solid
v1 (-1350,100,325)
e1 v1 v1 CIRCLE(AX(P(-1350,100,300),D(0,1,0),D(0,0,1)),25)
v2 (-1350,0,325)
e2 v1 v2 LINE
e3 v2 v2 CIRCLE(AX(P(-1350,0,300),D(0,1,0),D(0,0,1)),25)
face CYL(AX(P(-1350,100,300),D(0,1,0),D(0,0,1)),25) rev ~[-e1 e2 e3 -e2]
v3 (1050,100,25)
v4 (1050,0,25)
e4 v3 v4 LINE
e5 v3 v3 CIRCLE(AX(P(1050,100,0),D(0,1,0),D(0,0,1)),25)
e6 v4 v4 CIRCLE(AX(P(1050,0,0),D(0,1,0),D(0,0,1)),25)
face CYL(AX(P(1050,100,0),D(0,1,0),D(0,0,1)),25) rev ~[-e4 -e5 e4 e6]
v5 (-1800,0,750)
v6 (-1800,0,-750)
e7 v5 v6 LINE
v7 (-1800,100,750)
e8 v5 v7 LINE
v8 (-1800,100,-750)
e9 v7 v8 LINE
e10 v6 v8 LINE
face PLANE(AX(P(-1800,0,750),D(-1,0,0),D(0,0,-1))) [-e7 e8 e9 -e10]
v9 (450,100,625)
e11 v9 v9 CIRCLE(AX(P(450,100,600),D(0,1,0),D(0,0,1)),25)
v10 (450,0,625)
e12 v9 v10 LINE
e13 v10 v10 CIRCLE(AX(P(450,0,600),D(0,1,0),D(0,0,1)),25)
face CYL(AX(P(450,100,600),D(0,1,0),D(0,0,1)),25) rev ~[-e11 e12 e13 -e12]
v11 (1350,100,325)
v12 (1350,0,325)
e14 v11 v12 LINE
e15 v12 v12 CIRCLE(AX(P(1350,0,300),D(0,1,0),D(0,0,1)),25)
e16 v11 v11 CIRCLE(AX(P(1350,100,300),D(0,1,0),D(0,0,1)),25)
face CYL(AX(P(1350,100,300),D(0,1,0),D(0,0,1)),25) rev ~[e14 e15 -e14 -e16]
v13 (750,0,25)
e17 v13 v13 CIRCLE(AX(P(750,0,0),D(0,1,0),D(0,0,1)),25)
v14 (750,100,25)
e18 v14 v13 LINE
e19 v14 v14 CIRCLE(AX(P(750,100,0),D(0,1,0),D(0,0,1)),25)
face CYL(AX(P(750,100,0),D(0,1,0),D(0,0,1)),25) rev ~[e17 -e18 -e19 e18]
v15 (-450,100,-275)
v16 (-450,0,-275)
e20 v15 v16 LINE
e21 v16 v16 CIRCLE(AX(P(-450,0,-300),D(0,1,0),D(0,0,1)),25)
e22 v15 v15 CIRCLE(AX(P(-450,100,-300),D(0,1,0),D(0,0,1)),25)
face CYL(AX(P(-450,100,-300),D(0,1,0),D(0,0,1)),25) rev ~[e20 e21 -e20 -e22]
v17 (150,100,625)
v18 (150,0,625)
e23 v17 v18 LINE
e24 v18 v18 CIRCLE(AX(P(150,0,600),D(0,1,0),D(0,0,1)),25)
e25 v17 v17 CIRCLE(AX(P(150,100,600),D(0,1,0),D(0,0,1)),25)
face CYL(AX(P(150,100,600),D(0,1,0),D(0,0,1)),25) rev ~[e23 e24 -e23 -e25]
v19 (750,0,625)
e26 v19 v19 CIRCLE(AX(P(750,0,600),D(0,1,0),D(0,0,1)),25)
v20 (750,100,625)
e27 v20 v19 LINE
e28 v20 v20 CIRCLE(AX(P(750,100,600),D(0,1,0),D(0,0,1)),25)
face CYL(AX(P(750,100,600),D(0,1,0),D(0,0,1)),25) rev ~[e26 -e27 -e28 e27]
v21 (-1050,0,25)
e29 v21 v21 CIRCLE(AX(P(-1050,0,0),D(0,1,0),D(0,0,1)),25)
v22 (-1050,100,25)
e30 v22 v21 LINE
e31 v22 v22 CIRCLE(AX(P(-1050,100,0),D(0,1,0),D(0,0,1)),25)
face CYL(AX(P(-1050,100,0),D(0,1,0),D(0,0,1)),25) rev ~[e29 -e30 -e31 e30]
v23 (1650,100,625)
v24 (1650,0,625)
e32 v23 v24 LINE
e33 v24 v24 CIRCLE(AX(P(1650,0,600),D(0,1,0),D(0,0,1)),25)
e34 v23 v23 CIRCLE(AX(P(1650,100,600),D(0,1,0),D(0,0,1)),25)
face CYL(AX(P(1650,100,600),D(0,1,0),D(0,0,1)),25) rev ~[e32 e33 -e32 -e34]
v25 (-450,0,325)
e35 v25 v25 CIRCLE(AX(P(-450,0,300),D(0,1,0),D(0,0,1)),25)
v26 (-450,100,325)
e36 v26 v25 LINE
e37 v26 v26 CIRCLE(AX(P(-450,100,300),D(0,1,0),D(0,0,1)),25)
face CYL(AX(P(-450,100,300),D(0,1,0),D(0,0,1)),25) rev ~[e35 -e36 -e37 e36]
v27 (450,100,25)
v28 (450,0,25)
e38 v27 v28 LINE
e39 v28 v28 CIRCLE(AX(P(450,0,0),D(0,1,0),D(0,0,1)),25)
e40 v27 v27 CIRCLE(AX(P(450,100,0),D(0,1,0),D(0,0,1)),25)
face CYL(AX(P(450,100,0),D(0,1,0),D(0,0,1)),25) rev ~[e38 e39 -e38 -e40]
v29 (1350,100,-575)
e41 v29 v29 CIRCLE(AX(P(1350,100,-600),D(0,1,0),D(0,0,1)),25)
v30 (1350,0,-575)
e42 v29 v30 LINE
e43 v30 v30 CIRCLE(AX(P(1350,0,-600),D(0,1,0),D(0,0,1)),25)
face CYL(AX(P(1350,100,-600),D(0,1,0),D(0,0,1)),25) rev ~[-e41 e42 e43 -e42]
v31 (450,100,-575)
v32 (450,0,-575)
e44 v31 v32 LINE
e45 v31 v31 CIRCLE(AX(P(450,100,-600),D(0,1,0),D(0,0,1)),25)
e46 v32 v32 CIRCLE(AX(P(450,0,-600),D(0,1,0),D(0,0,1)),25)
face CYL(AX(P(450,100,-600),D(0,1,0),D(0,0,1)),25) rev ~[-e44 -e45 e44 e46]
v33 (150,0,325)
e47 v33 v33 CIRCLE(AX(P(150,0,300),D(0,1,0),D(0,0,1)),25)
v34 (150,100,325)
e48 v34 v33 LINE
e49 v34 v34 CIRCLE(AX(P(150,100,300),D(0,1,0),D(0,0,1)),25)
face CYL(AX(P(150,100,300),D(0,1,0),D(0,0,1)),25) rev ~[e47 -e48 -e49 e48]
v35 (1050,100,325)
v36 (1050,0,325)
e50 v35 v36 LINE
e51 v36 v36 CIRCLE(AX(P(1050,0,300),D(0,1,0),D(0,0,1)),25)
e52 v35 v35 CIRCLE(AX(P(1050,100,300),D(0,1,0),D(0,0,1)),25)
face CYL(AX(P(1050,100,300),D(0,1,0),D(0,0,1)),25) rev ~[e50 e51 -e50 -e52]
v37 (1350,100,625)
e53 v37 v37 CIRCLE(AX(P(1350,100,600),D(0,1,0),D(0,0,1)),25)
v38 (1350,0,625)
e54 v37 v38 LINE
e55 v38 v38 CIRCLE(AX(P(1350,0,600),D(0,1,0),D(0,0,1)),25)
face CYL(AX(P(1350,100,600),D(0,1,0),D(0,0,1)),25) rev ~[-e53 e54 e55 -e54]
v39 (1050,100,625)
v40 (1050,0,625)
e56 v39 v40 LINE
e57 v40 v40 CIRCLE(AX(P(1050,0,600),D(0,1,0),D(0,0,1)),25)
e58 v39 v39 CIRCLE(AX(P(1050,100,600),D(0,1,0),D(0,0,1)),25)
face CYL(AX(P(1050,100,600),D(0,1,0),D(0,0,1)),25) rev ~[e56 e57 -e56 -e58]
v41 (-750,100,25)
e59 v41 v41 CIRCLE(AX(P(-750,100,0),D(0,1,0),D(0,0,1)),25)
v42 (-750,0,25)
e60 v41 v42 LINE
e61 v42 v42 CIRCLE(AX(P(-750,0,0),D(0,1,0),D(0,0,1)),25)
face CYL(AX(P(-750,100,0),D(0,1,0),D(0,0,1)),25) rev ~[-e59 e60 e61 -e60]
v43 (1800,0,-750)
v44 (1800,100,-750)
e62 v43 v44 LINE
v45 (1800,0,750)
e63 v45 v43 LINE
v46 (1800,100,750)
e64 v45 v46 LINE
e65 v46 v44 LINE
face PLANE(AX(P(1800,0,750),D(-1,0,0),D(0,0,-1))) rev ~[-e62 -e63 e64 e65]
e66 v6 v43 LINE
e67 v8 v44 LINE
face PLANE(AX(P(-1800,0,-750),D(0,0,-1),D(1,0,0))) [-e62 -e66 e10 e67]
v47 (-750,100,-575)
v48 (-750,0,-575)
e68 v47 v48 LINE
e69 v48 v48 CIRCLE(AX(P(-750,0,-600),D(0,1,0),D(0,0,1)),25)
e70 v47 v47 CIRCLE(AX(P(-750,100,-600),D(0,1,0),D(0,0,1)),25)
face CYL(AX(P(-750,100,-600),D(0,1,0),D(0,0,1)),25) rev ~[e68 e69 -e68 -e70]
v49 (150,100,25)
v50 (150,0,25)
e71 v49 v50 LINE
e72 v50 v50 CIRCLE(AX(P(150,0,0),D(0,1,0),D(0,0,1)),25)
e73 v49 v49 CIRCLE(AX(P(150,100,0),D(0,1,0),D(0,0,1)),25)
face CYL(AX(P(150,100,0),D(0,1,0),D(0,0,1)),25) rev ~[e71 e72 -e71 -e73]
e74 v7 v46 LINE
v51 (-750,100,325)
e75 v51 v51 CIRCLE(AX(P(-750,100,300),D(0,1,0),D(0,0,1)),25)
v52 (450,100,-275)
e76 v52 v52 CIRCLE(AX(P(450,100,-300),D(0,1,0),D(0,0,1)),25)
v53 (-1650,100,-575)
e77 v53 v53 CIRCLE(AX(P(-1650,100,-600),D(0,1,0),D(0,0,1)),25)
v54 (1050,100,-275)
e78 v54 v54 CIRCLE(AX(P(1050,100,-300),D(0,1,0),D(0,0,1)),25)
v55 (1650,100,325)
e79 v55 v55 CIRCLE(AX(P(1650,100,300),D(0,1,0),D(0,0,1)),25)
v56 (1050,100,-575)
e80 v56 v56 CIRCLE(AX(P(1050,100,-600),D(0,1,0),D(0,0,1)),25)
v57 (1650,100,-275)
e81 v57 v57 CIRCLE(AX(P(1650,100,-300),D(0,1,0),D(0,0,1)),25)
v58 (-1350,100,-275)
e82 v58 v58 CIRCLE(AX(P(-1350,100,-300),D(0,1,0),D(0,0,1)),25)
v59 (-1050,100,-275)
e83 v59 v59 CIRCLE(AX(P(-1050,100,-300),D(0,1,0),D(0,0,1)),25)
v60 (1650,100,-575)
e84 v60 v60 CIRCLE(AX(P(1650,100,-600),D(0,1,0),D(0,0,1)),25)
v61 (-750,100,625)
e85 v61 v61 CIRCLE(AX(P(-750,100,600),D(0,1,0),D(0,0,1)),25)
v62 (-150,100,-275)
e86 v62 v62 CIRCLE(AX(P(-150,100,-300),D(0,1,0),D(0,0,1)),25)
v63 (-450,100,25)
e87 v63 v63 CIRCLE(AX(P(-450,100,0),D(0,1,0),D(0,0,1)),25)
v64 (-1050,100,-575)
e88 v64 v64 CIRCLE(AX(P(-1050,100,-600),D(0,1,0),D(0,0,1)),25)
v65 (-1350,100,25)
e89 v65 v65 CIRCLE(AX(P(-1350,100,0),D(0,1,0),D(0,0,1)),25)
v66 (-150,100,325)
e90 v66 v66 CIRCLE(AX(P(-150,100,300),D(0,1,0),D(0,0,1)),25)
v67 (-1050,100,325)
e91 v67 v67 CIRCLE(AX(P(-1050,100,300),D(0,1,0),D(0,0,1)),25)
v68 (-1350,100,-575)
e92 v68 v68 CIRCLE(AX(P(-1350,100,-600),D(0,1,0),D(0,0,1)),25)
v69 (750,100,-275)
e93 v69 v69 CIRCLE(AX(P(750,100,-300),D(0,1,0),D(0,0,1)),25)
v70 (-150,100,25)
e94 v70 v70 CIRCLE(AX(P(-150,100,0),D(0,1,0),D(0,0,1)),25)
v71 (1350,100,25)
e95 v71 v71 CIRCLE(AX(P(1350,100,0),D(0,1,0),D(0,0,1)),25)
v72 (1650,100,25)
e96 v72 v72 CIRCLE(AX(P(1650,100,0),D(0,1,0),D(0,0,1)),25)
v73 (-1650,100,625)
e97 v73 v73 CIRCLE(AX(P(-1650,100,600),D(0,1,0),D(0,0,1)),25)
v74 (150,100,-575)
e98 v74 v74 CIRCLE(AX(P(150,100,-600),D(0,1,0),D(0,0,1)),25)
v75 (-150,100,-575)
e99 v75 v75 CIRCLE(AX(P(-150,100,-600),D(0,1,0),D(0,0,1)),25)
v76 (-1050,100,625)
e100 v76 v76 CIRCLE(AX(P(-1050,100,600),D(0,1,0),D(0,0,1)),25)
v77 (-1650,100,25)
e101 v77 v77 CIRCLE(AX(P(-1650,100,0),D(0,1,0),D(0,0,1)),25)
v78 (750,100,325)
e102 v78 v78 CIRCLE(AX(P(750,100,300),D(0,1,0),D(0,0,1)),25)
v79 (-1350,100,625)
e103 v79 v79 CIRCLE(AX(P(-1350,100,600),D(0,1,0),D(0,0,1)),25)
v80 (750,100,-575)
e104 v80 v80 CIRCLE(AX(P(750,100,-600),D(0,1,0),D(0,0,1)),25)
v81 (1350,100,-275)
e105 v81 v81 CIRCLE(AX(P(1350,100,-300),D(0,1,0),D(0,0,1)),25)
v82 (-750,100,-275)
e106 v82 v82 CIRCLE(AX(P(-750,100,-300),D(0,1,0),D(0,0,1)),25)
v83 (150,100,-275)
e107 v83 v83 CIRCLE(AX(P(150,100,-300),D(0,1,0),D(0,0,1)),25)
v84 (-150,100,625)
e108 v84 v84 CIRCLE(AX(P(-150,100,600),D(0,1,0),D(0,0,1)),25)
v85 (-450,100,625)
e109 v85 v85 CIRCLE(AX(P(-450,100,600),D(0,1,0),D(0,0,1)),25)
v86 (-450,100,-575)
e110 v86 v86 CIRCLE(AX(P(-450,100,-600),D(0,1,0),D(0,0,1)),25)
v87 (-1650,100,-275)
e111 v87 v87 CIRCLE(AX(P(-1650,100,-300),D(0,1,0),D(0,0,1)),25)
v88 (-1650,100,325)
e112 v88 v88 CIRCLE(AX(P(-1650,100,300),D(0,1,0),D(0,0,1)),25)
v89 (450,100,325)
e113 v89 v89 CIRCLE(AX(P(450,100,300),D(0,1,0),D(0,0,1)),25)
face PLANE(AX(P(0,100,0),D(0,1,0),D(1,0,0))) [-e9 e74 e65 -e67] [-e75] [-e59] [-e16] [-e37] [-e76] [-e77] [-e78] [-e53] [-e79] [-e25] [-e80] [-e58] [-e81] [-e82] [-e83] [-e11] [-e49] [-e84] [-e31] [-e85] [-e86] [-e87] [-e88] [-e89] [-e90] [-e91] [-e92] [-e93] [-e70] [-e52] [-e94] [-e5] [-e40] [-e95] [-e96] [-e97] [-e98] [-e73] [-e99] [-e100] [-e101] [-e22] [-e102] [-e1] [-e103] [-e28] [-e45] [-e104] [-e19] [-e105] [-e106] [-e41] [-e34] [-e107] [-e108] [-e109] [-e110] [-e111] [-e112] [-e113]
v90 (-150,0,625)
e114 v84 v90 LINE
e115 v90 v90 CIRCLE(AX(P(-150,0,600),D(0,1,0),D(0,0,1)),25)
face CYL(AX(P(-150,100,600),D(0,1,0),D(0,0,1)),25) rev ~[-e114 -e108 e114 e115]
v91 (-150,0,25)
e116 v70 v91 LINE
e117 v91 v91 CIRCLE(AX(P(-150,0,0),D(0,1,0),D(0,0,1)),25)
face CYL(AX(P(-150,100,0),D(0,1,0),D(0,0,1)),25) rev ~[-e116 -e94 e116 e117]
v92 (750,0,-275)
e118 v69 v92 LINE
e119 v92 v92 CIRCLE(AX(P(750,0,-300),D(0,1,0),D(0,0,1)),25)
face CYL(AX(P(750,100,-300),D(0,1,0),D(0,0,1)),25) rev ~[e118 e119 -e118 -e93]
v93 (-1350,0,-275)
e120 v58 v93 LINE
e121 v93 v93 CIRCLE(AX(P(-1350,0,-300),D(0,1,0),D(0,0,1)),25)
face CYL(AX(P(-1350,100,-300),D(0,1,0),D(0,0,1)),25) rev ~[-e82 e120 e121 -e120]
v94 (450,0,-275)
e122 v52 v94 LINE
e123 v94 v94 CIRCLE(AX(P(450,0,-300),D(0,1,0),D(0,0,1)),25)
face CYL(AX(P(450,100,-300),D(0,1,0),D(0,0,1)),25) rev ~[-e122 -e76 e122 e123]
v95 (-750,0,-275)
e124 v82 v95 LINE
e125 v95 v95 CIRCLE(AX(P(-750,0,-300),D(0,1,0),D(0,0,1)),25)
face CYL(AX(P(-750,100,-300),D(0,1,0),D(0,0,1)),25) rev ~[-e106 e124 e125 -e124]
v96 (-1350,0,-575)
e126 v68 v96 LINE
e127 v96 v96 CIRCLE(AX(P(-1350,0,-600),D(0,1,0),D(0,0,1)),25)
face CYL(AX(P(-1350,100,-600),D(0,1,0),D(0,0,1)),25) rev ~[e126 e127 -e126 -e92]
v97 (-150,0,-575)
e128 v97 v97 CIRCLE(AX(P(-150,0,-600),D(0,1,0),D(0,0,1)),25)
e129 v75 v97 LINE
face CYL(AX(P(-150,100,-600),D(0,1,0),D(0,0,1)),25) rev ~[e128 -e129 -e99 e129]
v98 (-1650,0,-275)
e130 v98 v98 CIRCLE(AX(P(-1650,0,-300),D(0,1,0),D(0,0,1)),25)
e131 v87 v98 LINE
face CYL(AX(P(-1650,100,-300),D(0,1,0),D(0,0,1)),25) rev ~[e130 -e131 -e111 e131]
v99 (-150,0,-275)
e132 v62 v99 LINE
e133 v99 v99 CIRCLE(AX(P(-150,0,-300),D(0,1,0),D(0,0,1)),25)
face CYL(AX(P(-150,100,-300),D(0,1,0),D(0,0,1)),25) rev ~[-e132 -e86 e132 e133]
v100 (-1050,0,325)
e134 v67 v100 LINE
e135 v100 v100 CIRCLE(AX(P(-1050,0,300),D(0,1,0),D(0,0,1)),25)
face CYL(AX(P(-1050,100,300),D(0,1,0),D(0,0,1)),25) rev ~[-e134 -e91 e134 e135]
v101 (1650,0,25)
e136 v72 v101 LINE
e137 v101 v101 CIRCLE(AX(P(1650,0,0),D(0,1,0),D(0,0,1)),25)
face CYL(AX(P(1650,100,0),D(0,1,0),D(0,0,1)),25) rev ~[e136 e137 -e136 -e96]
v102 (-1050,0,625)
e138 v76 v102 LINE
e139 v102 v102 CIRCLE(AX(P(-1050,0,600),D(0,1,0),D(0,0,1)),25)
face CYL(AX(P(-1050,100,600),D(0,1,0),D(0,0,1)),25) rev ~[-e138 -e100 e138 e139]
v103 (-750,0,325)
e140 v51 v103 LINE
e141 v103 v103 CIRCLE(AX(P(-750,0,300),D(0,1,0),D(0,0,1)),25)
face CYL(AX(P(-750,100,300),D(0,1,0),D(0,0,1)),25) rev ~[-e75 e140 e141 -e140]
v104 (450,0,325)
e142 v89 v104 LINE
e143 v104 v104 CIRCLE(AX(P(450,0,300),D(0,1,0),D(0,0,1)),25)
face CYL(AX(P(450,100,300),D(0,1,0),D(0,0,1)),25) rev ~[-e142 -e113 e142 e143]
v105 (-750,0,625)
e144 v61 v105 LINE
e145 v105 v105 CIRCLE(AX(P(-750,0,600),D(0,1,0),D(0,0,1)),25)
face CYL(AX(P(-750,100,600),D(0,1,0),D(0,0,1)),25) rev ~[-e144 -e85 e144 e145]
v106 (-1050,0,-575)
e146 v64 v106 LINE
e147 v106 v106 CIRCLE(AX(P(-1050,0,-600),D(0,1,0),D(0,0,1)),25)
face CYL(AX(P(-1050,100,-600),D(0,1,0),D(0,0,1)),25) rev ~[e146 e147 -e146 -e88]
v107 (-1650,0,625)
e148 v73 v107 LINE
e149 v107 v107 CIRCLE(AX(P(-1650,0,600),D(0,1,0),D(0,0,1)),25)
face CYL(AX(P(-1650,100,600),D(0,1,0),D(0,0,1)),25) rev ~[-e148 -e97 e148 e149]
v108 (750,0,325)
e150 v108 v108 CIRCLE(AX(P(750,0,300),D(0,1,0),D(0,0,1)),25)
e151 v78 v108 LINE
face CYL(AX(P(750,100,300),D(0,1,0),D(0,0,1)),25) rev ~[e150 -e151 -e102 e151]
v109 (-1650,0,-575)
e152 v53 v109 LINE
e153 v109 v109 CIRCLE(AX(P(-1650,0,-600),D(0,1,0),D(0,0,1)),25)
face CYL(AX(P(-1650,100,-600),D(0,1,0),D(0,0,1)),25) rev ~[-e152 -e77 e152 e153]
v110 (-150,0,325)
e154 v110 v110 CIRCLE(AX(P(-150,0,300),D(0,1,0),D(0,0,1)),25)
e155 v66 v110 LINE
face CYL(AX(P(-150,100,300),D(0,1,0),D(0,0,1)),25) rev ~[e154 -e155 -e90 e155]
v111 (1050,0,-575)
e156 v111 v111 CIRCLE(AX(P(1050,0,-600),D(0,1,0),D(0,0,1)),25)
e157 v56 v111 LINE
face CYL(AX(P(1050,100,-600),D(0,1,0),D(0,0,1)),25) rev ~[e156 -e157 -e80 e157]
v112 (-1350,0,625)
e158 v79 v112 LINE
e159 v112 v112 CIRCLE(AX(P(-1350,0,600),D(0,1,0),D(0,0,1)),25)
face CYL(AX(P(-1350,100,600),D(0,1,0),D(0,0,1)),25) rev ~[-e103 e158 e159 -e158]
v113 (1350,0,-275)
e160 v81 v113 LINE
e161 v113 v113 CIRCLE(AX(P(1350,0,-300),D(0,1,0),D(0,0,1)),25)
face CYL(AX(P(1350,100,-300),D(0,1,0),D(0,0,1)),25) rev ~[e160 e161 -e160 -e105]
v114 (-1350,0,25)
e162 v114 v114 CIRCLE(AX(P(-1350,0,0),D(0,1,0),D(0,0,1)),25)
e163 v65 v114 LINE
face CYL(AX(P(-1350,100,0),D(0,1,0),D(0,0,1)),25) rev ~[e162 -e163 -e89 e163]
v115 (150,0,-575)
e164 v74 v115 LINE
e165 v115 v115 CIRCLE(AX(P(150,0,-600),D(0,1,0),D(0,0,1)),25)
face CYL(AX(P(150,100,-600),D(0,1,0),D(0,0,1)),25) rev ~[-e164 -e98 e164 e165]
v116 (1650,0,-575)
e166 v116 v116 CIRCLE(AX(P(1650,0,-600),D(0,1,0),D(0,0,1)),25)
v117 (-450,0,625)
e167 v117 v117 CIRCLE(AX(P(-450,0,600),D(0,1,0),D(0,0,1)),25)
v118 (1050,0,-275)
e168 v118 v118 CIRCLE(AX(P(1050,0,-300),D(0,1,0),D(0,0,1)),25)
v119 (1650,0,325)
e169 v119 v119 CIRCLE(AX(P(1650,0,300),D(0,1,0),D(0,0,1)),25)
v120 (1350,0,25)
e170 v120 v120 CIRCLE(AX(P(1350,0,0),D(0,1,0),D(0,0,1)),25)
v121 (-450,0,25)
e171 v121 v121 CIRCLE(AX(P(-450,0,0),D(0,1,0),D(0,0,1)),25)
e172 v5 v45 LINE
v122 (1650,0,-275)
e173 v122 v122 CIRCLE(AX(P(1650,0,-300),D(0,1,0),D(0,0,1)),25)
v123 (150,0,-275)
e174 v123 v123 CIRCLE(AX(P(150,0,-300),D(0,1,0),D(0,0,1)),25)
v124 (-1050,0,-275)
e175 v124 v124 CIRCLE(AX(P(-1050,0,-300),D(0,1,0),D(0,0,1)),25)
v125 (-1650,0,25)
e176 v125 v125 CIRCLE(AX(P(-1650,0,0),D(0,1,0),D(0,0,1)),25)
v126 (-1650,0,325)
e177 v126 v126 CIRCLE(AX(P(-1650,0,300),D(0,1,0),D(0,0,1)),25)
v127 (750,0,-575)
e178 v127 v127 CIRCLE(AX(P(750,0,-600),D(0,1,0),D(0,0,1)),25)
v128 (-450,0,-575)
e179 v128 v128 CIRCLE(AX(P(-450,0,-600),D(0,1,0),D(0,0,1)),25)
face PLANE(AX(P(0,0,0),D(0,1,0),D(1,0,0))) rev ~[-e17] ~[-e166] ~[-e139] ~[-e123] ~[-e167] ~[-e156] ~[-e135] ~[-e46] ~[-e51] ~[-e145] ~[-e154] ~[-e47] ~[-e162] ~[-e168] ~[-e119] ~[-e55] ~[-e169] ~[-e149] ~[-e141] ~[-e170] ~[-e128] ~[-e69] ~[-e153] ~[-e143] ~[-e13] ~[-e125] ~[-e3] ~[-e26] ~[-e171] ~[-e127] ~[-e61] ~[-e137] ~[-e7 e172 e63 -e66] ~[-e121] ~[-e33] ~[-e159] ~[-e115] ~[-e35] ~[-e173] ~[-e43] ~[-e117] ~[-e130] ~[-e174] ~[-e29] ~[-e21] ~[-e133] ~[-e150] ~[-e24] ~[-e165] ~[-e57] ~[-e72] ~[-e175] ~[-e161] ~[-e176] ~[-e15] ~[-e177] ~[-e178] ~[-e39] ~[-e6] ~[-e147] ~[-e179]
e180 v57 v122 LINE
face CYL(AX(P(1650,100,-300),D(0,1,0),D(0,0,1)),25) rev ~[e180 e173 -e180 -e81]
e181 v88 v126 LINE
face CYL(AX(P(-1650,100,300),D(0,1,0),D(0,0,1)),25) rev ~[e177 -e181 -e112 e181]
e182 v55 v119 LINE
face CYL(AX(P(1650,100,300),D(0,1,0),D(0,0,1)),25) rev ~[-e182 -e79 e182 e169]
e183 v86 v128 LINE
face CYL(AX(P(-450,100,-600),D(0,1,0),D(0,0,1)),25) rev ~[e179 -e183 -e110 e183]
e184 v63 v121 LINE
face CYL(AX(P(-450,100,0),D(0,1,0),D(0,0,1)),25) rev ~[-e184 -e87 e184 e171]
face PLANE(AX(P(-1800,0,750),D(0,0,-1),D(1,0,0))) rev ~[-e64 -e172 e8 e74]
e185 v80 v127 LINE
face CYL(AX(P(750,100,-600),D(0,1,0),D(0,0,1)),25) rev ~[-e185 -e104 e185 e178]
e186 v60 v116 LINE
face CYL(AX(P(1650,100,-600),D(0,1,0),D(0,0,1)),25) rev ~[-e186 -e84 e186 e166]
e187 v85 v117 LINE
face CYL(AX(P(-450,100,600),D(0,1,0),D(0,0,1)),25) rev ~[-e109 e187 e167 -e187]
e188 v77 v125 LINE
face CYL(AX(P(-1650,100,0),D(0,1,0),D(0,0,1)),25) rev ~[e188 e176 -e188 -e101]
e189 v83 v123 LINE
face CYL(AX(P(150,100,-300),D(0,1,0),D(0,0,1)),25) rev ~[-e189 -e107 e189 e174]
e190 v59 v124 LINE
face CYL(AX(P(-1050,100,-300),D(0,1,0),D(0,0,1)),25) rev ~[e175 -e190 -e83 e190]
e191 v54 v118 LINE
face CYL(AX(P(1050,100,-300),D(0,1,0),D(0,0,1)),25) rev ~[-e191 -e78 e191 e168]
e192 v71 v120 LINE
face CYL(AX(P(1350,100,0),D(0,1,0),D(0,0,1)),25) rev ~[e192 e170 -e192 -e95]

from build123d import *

# Parameters (mm, degrees)
SKETCH2_W           = 3600
SKETCH2_H           = 1500
BOSS_EXTRUDE1_DEPTH = 100
SKETCH3_R           = 25
CUT_EXTRUDE1_DEPTH  = 100


with BuildPart() as part:
    # Sketch2 → Boss-Extrude1 (new body)
    with BuildSketch(Plane(origin=(0, 0, 0), x_dir=(1, 0, 0), z_dir=(0, 1, 0))):
        Rectangle(SKETCH2_W, SKETCH2_H)
    extrude(amount=BOSS_EXTRUDE1_DEPTH)

    # Sketch3 → Cut-Extrude1 (cut)
    with BuildSketch(Plane(origin=(0, 100, 0), x_dir=(1, 0, 0), z_dir=(0, 1, 0))):
        with Locations(Location((-1650, 600, 0), (0, 0, 270))):
            Circle(SKETCH3_R)
        with Locations(Location((-1350, 600, 0), (0, 0, 270))):
            Circle(SKETCH3_R)
        with Locations(Location((-1050, 600, 0), (0, 0, 270))):
            Circle(SKETCH3_R)
        with Locations(Location((-750, 600, 0), (0, 0, 270))):
            Circle(SKETCH3_R)
        with Locations(Location((-450, 600, 0), (0, 0, 270))):
            Circle(SKETCH3_R)
        with Locations(Location((-150, 600, 0), (0, 0, 270))):
            Circle(SKETCH3_R)
        with Locations(Location((150, 600, 0), (0, 0, 270))):
            Circle(SKETCH3_R)
        with Locations(Location((450, 600, 0), (0, 0, 270))):
            Circle(SKETCH3_R)
        with Locations(Location((750, 600, 0), (0, 0, 270))):
            Circle(SKETCH3_R)
        with Locations(Location((1050, 600, 0), (0, 0, 270))):
            Circle(SKETCH3_R)
        with Locations(Location((1350, 600, 0), (0, 0, 270))):
            Circle(SKETCH3_R)
        with Locations(Location((1650, 600, 0), (0, 0, 270))):
            Circle(SKETCH3_R)
        with Locations(Location((-1350, 300, 0), (0, 0, 270))):
            Circle(SKETCH3_R)
        with Locations(Location((-1050, 300, 0), (0, 0, 270))):
            Circle(SKETCH3_R)
        with Locations(Location((-750, 300, 0), (0, 0, 270))):
            Circle(SKETCH3_R)
        with Locations(Location((-450, 300, 0), (0, 0, 270))):
            Circle(SKETCH3_R)
        with Locations(Location((-150, 300, 0), (0, 0, 270))):
            Circle(SKETCH3_R)
        with Locations(Location((150, 300, 0), (0, 0, 270))):
            Circle(SKETCH3_R)
        with Locations(Location((450, 300, 0), (0, 0, 270))):
            Circle(SKETCH3_R)
        with Locations(Location((750, 300, 0), (0, 0, 270))):
            Circle(SKETCH3_R)
        with Locations(Location((1050, 300, 0), (0, 0, 270))):
            Circle(SKETCH3_R)
        with Locations(Location((1350, 300, 0), (0, 0, 270))):
            Circle(SKETCH3_R)
        with Locations(Location((1650, 300, 0), (0, 0, 270))):
            Circle(SKETCH3_R)
        with Locations(Location((-1350, 0, 0), (0, 0, 270))):
            Circle(SKETCH3_R)
        with Locations(Location((-1050, 0, 0), (0, 0, 270))):
            Circle(SKETCH3_R)
        with Locations(Location((-750, 0, 0), (0, 0, 270))):
            Circle(SKETCH3_R)
        with Locations(Location((-450, 0, 0), (0, 0, 270))):
            Circle(SKETCH3_R)
        with Locations(Location((-150, 0, 0), (0, 0, 270))):
            Circle(SKETCH3_R)
        with Locations(Location((150, 0, 0), (0, 0, 270))):
            Circle(SKETCH3_R)
        with Locations(Location((450, 0, 0), (0, 0, 270))):
            Circle(SKETCH3_R)
        with Locations(Location((750, 0, 0), (0, 0, 270))):
            Circle(SKETCH3_R)
        with Locations(Location((1050, 0, 0), (0, 0, 270))):
            Circle(SKETCH3_R)
        with Locations(Location((1350, 0, 0), (0, 0, 270))):
            Circle(SKETCH3_R)
        with Locations(Location((1650, 0, 0), (0, 0, 270))):
            Circle(SKETCH3_R)
        with Locations(Location((-1350, -300, 0), (0, 0, 270))):
            Circle(SKETCH3_R)
        with Locations(Location((-1050, -300, 0), (0, 0, 270))):
            Circle(SKETCH3_R)
        with Locations(Location((-750, -300, 0), (0, 0, 270))):
            Circle(SKETCH3_R)
        with Locations(Location((-450, -300, 0), (0, 0, 270))):
            Circle(SKETCH3_R)
        with Locations(Location((-150, -300, 0), (0, 0, 270))):
            Circle(SKETCH3_R)
        with Locations(Location((150, -300, 0), (0, 0, 270))):
            Circle(SKETCH3_R)
        with Locations(Location((450, -300, 0), (0, 0, 270))):
            Circle(SKETCH3_R)
        with Locations(Location((750, -300, 0), (0, 0, 270))):
            Circle(SKETCH3_R)
        with Locations(Location((1050, -300, 0), (0, 0, 270))):
            Circle(SKETCH3_R)
        with Locations(Location((1350, -300, 0), (0, 0, 270))):
            Circle(SKETCH3_R)
        with Locations(Location((1650, -300, 0), (0, 0, 270))):
            Circle(SKETCH3_R)
        with Locations(Location((-1350, -600, 0), (0, 0, 270))):
            Circle(SKETCH3_R)
        with Locations(Location((-1050, -600, 0), (0, 0, 270))):
            Circle(SKETCH3_R)
        with Locations(Location((-750, -600, 0), (0, 0, 270))):
            Circle(SKETCH3_R)
        with Locations(Location((-450, -600, 0), (0, 0, 270))):
            Circle(SKETCH3_R)
        with Locations(Location((-150, -600, 0), (0, 0, 270))):
            Circle(SKETCH3_R)
        with Locations(Location((150, -600, 0), (0, 0, 270))):
            Circle(SKETCH3_R)
        with Locations(Location((450, -600, 0), (0, 0, 270))):
            Circle(SKETCH3_R)
        with Locations(Location((750, -600, 0), (0, 0, 270))):
            Circle(SKETCH3_R)
        with Locations(Location((1050, -600, 0), (0, 0, 270))):
            Circle(SKETCH3_R)
        with Locations(Location((1350, -600, 0), (0, 0, 270))):
            Circle(SKETCH3_R)
        with Locations(Location((1650, -600, 0), (0, 0, 270))):
            Circle(SKETCH3_R)
        with Locations(Location((-1650, 300, 0), (0, 0, 270))):
            Circle(SKETCH3_R)
        with Locations(Location((-1650, 0, 0), (0, 0, 270))):
            Circle(SKETCH3_R)
        with Locations(Location((-1650, -300, 0), (0, 0, 270))):
            Circle(SKETCH3_R)
        with Locations(Location((-1650, -600, 0), (0, 0, 270))):
            Circle(SKETCH3_R)
    extrude(amount=-CUT_EXTRUDE1_DEPTH, mode=Mode.SUBTRACT)


solid = part.part
